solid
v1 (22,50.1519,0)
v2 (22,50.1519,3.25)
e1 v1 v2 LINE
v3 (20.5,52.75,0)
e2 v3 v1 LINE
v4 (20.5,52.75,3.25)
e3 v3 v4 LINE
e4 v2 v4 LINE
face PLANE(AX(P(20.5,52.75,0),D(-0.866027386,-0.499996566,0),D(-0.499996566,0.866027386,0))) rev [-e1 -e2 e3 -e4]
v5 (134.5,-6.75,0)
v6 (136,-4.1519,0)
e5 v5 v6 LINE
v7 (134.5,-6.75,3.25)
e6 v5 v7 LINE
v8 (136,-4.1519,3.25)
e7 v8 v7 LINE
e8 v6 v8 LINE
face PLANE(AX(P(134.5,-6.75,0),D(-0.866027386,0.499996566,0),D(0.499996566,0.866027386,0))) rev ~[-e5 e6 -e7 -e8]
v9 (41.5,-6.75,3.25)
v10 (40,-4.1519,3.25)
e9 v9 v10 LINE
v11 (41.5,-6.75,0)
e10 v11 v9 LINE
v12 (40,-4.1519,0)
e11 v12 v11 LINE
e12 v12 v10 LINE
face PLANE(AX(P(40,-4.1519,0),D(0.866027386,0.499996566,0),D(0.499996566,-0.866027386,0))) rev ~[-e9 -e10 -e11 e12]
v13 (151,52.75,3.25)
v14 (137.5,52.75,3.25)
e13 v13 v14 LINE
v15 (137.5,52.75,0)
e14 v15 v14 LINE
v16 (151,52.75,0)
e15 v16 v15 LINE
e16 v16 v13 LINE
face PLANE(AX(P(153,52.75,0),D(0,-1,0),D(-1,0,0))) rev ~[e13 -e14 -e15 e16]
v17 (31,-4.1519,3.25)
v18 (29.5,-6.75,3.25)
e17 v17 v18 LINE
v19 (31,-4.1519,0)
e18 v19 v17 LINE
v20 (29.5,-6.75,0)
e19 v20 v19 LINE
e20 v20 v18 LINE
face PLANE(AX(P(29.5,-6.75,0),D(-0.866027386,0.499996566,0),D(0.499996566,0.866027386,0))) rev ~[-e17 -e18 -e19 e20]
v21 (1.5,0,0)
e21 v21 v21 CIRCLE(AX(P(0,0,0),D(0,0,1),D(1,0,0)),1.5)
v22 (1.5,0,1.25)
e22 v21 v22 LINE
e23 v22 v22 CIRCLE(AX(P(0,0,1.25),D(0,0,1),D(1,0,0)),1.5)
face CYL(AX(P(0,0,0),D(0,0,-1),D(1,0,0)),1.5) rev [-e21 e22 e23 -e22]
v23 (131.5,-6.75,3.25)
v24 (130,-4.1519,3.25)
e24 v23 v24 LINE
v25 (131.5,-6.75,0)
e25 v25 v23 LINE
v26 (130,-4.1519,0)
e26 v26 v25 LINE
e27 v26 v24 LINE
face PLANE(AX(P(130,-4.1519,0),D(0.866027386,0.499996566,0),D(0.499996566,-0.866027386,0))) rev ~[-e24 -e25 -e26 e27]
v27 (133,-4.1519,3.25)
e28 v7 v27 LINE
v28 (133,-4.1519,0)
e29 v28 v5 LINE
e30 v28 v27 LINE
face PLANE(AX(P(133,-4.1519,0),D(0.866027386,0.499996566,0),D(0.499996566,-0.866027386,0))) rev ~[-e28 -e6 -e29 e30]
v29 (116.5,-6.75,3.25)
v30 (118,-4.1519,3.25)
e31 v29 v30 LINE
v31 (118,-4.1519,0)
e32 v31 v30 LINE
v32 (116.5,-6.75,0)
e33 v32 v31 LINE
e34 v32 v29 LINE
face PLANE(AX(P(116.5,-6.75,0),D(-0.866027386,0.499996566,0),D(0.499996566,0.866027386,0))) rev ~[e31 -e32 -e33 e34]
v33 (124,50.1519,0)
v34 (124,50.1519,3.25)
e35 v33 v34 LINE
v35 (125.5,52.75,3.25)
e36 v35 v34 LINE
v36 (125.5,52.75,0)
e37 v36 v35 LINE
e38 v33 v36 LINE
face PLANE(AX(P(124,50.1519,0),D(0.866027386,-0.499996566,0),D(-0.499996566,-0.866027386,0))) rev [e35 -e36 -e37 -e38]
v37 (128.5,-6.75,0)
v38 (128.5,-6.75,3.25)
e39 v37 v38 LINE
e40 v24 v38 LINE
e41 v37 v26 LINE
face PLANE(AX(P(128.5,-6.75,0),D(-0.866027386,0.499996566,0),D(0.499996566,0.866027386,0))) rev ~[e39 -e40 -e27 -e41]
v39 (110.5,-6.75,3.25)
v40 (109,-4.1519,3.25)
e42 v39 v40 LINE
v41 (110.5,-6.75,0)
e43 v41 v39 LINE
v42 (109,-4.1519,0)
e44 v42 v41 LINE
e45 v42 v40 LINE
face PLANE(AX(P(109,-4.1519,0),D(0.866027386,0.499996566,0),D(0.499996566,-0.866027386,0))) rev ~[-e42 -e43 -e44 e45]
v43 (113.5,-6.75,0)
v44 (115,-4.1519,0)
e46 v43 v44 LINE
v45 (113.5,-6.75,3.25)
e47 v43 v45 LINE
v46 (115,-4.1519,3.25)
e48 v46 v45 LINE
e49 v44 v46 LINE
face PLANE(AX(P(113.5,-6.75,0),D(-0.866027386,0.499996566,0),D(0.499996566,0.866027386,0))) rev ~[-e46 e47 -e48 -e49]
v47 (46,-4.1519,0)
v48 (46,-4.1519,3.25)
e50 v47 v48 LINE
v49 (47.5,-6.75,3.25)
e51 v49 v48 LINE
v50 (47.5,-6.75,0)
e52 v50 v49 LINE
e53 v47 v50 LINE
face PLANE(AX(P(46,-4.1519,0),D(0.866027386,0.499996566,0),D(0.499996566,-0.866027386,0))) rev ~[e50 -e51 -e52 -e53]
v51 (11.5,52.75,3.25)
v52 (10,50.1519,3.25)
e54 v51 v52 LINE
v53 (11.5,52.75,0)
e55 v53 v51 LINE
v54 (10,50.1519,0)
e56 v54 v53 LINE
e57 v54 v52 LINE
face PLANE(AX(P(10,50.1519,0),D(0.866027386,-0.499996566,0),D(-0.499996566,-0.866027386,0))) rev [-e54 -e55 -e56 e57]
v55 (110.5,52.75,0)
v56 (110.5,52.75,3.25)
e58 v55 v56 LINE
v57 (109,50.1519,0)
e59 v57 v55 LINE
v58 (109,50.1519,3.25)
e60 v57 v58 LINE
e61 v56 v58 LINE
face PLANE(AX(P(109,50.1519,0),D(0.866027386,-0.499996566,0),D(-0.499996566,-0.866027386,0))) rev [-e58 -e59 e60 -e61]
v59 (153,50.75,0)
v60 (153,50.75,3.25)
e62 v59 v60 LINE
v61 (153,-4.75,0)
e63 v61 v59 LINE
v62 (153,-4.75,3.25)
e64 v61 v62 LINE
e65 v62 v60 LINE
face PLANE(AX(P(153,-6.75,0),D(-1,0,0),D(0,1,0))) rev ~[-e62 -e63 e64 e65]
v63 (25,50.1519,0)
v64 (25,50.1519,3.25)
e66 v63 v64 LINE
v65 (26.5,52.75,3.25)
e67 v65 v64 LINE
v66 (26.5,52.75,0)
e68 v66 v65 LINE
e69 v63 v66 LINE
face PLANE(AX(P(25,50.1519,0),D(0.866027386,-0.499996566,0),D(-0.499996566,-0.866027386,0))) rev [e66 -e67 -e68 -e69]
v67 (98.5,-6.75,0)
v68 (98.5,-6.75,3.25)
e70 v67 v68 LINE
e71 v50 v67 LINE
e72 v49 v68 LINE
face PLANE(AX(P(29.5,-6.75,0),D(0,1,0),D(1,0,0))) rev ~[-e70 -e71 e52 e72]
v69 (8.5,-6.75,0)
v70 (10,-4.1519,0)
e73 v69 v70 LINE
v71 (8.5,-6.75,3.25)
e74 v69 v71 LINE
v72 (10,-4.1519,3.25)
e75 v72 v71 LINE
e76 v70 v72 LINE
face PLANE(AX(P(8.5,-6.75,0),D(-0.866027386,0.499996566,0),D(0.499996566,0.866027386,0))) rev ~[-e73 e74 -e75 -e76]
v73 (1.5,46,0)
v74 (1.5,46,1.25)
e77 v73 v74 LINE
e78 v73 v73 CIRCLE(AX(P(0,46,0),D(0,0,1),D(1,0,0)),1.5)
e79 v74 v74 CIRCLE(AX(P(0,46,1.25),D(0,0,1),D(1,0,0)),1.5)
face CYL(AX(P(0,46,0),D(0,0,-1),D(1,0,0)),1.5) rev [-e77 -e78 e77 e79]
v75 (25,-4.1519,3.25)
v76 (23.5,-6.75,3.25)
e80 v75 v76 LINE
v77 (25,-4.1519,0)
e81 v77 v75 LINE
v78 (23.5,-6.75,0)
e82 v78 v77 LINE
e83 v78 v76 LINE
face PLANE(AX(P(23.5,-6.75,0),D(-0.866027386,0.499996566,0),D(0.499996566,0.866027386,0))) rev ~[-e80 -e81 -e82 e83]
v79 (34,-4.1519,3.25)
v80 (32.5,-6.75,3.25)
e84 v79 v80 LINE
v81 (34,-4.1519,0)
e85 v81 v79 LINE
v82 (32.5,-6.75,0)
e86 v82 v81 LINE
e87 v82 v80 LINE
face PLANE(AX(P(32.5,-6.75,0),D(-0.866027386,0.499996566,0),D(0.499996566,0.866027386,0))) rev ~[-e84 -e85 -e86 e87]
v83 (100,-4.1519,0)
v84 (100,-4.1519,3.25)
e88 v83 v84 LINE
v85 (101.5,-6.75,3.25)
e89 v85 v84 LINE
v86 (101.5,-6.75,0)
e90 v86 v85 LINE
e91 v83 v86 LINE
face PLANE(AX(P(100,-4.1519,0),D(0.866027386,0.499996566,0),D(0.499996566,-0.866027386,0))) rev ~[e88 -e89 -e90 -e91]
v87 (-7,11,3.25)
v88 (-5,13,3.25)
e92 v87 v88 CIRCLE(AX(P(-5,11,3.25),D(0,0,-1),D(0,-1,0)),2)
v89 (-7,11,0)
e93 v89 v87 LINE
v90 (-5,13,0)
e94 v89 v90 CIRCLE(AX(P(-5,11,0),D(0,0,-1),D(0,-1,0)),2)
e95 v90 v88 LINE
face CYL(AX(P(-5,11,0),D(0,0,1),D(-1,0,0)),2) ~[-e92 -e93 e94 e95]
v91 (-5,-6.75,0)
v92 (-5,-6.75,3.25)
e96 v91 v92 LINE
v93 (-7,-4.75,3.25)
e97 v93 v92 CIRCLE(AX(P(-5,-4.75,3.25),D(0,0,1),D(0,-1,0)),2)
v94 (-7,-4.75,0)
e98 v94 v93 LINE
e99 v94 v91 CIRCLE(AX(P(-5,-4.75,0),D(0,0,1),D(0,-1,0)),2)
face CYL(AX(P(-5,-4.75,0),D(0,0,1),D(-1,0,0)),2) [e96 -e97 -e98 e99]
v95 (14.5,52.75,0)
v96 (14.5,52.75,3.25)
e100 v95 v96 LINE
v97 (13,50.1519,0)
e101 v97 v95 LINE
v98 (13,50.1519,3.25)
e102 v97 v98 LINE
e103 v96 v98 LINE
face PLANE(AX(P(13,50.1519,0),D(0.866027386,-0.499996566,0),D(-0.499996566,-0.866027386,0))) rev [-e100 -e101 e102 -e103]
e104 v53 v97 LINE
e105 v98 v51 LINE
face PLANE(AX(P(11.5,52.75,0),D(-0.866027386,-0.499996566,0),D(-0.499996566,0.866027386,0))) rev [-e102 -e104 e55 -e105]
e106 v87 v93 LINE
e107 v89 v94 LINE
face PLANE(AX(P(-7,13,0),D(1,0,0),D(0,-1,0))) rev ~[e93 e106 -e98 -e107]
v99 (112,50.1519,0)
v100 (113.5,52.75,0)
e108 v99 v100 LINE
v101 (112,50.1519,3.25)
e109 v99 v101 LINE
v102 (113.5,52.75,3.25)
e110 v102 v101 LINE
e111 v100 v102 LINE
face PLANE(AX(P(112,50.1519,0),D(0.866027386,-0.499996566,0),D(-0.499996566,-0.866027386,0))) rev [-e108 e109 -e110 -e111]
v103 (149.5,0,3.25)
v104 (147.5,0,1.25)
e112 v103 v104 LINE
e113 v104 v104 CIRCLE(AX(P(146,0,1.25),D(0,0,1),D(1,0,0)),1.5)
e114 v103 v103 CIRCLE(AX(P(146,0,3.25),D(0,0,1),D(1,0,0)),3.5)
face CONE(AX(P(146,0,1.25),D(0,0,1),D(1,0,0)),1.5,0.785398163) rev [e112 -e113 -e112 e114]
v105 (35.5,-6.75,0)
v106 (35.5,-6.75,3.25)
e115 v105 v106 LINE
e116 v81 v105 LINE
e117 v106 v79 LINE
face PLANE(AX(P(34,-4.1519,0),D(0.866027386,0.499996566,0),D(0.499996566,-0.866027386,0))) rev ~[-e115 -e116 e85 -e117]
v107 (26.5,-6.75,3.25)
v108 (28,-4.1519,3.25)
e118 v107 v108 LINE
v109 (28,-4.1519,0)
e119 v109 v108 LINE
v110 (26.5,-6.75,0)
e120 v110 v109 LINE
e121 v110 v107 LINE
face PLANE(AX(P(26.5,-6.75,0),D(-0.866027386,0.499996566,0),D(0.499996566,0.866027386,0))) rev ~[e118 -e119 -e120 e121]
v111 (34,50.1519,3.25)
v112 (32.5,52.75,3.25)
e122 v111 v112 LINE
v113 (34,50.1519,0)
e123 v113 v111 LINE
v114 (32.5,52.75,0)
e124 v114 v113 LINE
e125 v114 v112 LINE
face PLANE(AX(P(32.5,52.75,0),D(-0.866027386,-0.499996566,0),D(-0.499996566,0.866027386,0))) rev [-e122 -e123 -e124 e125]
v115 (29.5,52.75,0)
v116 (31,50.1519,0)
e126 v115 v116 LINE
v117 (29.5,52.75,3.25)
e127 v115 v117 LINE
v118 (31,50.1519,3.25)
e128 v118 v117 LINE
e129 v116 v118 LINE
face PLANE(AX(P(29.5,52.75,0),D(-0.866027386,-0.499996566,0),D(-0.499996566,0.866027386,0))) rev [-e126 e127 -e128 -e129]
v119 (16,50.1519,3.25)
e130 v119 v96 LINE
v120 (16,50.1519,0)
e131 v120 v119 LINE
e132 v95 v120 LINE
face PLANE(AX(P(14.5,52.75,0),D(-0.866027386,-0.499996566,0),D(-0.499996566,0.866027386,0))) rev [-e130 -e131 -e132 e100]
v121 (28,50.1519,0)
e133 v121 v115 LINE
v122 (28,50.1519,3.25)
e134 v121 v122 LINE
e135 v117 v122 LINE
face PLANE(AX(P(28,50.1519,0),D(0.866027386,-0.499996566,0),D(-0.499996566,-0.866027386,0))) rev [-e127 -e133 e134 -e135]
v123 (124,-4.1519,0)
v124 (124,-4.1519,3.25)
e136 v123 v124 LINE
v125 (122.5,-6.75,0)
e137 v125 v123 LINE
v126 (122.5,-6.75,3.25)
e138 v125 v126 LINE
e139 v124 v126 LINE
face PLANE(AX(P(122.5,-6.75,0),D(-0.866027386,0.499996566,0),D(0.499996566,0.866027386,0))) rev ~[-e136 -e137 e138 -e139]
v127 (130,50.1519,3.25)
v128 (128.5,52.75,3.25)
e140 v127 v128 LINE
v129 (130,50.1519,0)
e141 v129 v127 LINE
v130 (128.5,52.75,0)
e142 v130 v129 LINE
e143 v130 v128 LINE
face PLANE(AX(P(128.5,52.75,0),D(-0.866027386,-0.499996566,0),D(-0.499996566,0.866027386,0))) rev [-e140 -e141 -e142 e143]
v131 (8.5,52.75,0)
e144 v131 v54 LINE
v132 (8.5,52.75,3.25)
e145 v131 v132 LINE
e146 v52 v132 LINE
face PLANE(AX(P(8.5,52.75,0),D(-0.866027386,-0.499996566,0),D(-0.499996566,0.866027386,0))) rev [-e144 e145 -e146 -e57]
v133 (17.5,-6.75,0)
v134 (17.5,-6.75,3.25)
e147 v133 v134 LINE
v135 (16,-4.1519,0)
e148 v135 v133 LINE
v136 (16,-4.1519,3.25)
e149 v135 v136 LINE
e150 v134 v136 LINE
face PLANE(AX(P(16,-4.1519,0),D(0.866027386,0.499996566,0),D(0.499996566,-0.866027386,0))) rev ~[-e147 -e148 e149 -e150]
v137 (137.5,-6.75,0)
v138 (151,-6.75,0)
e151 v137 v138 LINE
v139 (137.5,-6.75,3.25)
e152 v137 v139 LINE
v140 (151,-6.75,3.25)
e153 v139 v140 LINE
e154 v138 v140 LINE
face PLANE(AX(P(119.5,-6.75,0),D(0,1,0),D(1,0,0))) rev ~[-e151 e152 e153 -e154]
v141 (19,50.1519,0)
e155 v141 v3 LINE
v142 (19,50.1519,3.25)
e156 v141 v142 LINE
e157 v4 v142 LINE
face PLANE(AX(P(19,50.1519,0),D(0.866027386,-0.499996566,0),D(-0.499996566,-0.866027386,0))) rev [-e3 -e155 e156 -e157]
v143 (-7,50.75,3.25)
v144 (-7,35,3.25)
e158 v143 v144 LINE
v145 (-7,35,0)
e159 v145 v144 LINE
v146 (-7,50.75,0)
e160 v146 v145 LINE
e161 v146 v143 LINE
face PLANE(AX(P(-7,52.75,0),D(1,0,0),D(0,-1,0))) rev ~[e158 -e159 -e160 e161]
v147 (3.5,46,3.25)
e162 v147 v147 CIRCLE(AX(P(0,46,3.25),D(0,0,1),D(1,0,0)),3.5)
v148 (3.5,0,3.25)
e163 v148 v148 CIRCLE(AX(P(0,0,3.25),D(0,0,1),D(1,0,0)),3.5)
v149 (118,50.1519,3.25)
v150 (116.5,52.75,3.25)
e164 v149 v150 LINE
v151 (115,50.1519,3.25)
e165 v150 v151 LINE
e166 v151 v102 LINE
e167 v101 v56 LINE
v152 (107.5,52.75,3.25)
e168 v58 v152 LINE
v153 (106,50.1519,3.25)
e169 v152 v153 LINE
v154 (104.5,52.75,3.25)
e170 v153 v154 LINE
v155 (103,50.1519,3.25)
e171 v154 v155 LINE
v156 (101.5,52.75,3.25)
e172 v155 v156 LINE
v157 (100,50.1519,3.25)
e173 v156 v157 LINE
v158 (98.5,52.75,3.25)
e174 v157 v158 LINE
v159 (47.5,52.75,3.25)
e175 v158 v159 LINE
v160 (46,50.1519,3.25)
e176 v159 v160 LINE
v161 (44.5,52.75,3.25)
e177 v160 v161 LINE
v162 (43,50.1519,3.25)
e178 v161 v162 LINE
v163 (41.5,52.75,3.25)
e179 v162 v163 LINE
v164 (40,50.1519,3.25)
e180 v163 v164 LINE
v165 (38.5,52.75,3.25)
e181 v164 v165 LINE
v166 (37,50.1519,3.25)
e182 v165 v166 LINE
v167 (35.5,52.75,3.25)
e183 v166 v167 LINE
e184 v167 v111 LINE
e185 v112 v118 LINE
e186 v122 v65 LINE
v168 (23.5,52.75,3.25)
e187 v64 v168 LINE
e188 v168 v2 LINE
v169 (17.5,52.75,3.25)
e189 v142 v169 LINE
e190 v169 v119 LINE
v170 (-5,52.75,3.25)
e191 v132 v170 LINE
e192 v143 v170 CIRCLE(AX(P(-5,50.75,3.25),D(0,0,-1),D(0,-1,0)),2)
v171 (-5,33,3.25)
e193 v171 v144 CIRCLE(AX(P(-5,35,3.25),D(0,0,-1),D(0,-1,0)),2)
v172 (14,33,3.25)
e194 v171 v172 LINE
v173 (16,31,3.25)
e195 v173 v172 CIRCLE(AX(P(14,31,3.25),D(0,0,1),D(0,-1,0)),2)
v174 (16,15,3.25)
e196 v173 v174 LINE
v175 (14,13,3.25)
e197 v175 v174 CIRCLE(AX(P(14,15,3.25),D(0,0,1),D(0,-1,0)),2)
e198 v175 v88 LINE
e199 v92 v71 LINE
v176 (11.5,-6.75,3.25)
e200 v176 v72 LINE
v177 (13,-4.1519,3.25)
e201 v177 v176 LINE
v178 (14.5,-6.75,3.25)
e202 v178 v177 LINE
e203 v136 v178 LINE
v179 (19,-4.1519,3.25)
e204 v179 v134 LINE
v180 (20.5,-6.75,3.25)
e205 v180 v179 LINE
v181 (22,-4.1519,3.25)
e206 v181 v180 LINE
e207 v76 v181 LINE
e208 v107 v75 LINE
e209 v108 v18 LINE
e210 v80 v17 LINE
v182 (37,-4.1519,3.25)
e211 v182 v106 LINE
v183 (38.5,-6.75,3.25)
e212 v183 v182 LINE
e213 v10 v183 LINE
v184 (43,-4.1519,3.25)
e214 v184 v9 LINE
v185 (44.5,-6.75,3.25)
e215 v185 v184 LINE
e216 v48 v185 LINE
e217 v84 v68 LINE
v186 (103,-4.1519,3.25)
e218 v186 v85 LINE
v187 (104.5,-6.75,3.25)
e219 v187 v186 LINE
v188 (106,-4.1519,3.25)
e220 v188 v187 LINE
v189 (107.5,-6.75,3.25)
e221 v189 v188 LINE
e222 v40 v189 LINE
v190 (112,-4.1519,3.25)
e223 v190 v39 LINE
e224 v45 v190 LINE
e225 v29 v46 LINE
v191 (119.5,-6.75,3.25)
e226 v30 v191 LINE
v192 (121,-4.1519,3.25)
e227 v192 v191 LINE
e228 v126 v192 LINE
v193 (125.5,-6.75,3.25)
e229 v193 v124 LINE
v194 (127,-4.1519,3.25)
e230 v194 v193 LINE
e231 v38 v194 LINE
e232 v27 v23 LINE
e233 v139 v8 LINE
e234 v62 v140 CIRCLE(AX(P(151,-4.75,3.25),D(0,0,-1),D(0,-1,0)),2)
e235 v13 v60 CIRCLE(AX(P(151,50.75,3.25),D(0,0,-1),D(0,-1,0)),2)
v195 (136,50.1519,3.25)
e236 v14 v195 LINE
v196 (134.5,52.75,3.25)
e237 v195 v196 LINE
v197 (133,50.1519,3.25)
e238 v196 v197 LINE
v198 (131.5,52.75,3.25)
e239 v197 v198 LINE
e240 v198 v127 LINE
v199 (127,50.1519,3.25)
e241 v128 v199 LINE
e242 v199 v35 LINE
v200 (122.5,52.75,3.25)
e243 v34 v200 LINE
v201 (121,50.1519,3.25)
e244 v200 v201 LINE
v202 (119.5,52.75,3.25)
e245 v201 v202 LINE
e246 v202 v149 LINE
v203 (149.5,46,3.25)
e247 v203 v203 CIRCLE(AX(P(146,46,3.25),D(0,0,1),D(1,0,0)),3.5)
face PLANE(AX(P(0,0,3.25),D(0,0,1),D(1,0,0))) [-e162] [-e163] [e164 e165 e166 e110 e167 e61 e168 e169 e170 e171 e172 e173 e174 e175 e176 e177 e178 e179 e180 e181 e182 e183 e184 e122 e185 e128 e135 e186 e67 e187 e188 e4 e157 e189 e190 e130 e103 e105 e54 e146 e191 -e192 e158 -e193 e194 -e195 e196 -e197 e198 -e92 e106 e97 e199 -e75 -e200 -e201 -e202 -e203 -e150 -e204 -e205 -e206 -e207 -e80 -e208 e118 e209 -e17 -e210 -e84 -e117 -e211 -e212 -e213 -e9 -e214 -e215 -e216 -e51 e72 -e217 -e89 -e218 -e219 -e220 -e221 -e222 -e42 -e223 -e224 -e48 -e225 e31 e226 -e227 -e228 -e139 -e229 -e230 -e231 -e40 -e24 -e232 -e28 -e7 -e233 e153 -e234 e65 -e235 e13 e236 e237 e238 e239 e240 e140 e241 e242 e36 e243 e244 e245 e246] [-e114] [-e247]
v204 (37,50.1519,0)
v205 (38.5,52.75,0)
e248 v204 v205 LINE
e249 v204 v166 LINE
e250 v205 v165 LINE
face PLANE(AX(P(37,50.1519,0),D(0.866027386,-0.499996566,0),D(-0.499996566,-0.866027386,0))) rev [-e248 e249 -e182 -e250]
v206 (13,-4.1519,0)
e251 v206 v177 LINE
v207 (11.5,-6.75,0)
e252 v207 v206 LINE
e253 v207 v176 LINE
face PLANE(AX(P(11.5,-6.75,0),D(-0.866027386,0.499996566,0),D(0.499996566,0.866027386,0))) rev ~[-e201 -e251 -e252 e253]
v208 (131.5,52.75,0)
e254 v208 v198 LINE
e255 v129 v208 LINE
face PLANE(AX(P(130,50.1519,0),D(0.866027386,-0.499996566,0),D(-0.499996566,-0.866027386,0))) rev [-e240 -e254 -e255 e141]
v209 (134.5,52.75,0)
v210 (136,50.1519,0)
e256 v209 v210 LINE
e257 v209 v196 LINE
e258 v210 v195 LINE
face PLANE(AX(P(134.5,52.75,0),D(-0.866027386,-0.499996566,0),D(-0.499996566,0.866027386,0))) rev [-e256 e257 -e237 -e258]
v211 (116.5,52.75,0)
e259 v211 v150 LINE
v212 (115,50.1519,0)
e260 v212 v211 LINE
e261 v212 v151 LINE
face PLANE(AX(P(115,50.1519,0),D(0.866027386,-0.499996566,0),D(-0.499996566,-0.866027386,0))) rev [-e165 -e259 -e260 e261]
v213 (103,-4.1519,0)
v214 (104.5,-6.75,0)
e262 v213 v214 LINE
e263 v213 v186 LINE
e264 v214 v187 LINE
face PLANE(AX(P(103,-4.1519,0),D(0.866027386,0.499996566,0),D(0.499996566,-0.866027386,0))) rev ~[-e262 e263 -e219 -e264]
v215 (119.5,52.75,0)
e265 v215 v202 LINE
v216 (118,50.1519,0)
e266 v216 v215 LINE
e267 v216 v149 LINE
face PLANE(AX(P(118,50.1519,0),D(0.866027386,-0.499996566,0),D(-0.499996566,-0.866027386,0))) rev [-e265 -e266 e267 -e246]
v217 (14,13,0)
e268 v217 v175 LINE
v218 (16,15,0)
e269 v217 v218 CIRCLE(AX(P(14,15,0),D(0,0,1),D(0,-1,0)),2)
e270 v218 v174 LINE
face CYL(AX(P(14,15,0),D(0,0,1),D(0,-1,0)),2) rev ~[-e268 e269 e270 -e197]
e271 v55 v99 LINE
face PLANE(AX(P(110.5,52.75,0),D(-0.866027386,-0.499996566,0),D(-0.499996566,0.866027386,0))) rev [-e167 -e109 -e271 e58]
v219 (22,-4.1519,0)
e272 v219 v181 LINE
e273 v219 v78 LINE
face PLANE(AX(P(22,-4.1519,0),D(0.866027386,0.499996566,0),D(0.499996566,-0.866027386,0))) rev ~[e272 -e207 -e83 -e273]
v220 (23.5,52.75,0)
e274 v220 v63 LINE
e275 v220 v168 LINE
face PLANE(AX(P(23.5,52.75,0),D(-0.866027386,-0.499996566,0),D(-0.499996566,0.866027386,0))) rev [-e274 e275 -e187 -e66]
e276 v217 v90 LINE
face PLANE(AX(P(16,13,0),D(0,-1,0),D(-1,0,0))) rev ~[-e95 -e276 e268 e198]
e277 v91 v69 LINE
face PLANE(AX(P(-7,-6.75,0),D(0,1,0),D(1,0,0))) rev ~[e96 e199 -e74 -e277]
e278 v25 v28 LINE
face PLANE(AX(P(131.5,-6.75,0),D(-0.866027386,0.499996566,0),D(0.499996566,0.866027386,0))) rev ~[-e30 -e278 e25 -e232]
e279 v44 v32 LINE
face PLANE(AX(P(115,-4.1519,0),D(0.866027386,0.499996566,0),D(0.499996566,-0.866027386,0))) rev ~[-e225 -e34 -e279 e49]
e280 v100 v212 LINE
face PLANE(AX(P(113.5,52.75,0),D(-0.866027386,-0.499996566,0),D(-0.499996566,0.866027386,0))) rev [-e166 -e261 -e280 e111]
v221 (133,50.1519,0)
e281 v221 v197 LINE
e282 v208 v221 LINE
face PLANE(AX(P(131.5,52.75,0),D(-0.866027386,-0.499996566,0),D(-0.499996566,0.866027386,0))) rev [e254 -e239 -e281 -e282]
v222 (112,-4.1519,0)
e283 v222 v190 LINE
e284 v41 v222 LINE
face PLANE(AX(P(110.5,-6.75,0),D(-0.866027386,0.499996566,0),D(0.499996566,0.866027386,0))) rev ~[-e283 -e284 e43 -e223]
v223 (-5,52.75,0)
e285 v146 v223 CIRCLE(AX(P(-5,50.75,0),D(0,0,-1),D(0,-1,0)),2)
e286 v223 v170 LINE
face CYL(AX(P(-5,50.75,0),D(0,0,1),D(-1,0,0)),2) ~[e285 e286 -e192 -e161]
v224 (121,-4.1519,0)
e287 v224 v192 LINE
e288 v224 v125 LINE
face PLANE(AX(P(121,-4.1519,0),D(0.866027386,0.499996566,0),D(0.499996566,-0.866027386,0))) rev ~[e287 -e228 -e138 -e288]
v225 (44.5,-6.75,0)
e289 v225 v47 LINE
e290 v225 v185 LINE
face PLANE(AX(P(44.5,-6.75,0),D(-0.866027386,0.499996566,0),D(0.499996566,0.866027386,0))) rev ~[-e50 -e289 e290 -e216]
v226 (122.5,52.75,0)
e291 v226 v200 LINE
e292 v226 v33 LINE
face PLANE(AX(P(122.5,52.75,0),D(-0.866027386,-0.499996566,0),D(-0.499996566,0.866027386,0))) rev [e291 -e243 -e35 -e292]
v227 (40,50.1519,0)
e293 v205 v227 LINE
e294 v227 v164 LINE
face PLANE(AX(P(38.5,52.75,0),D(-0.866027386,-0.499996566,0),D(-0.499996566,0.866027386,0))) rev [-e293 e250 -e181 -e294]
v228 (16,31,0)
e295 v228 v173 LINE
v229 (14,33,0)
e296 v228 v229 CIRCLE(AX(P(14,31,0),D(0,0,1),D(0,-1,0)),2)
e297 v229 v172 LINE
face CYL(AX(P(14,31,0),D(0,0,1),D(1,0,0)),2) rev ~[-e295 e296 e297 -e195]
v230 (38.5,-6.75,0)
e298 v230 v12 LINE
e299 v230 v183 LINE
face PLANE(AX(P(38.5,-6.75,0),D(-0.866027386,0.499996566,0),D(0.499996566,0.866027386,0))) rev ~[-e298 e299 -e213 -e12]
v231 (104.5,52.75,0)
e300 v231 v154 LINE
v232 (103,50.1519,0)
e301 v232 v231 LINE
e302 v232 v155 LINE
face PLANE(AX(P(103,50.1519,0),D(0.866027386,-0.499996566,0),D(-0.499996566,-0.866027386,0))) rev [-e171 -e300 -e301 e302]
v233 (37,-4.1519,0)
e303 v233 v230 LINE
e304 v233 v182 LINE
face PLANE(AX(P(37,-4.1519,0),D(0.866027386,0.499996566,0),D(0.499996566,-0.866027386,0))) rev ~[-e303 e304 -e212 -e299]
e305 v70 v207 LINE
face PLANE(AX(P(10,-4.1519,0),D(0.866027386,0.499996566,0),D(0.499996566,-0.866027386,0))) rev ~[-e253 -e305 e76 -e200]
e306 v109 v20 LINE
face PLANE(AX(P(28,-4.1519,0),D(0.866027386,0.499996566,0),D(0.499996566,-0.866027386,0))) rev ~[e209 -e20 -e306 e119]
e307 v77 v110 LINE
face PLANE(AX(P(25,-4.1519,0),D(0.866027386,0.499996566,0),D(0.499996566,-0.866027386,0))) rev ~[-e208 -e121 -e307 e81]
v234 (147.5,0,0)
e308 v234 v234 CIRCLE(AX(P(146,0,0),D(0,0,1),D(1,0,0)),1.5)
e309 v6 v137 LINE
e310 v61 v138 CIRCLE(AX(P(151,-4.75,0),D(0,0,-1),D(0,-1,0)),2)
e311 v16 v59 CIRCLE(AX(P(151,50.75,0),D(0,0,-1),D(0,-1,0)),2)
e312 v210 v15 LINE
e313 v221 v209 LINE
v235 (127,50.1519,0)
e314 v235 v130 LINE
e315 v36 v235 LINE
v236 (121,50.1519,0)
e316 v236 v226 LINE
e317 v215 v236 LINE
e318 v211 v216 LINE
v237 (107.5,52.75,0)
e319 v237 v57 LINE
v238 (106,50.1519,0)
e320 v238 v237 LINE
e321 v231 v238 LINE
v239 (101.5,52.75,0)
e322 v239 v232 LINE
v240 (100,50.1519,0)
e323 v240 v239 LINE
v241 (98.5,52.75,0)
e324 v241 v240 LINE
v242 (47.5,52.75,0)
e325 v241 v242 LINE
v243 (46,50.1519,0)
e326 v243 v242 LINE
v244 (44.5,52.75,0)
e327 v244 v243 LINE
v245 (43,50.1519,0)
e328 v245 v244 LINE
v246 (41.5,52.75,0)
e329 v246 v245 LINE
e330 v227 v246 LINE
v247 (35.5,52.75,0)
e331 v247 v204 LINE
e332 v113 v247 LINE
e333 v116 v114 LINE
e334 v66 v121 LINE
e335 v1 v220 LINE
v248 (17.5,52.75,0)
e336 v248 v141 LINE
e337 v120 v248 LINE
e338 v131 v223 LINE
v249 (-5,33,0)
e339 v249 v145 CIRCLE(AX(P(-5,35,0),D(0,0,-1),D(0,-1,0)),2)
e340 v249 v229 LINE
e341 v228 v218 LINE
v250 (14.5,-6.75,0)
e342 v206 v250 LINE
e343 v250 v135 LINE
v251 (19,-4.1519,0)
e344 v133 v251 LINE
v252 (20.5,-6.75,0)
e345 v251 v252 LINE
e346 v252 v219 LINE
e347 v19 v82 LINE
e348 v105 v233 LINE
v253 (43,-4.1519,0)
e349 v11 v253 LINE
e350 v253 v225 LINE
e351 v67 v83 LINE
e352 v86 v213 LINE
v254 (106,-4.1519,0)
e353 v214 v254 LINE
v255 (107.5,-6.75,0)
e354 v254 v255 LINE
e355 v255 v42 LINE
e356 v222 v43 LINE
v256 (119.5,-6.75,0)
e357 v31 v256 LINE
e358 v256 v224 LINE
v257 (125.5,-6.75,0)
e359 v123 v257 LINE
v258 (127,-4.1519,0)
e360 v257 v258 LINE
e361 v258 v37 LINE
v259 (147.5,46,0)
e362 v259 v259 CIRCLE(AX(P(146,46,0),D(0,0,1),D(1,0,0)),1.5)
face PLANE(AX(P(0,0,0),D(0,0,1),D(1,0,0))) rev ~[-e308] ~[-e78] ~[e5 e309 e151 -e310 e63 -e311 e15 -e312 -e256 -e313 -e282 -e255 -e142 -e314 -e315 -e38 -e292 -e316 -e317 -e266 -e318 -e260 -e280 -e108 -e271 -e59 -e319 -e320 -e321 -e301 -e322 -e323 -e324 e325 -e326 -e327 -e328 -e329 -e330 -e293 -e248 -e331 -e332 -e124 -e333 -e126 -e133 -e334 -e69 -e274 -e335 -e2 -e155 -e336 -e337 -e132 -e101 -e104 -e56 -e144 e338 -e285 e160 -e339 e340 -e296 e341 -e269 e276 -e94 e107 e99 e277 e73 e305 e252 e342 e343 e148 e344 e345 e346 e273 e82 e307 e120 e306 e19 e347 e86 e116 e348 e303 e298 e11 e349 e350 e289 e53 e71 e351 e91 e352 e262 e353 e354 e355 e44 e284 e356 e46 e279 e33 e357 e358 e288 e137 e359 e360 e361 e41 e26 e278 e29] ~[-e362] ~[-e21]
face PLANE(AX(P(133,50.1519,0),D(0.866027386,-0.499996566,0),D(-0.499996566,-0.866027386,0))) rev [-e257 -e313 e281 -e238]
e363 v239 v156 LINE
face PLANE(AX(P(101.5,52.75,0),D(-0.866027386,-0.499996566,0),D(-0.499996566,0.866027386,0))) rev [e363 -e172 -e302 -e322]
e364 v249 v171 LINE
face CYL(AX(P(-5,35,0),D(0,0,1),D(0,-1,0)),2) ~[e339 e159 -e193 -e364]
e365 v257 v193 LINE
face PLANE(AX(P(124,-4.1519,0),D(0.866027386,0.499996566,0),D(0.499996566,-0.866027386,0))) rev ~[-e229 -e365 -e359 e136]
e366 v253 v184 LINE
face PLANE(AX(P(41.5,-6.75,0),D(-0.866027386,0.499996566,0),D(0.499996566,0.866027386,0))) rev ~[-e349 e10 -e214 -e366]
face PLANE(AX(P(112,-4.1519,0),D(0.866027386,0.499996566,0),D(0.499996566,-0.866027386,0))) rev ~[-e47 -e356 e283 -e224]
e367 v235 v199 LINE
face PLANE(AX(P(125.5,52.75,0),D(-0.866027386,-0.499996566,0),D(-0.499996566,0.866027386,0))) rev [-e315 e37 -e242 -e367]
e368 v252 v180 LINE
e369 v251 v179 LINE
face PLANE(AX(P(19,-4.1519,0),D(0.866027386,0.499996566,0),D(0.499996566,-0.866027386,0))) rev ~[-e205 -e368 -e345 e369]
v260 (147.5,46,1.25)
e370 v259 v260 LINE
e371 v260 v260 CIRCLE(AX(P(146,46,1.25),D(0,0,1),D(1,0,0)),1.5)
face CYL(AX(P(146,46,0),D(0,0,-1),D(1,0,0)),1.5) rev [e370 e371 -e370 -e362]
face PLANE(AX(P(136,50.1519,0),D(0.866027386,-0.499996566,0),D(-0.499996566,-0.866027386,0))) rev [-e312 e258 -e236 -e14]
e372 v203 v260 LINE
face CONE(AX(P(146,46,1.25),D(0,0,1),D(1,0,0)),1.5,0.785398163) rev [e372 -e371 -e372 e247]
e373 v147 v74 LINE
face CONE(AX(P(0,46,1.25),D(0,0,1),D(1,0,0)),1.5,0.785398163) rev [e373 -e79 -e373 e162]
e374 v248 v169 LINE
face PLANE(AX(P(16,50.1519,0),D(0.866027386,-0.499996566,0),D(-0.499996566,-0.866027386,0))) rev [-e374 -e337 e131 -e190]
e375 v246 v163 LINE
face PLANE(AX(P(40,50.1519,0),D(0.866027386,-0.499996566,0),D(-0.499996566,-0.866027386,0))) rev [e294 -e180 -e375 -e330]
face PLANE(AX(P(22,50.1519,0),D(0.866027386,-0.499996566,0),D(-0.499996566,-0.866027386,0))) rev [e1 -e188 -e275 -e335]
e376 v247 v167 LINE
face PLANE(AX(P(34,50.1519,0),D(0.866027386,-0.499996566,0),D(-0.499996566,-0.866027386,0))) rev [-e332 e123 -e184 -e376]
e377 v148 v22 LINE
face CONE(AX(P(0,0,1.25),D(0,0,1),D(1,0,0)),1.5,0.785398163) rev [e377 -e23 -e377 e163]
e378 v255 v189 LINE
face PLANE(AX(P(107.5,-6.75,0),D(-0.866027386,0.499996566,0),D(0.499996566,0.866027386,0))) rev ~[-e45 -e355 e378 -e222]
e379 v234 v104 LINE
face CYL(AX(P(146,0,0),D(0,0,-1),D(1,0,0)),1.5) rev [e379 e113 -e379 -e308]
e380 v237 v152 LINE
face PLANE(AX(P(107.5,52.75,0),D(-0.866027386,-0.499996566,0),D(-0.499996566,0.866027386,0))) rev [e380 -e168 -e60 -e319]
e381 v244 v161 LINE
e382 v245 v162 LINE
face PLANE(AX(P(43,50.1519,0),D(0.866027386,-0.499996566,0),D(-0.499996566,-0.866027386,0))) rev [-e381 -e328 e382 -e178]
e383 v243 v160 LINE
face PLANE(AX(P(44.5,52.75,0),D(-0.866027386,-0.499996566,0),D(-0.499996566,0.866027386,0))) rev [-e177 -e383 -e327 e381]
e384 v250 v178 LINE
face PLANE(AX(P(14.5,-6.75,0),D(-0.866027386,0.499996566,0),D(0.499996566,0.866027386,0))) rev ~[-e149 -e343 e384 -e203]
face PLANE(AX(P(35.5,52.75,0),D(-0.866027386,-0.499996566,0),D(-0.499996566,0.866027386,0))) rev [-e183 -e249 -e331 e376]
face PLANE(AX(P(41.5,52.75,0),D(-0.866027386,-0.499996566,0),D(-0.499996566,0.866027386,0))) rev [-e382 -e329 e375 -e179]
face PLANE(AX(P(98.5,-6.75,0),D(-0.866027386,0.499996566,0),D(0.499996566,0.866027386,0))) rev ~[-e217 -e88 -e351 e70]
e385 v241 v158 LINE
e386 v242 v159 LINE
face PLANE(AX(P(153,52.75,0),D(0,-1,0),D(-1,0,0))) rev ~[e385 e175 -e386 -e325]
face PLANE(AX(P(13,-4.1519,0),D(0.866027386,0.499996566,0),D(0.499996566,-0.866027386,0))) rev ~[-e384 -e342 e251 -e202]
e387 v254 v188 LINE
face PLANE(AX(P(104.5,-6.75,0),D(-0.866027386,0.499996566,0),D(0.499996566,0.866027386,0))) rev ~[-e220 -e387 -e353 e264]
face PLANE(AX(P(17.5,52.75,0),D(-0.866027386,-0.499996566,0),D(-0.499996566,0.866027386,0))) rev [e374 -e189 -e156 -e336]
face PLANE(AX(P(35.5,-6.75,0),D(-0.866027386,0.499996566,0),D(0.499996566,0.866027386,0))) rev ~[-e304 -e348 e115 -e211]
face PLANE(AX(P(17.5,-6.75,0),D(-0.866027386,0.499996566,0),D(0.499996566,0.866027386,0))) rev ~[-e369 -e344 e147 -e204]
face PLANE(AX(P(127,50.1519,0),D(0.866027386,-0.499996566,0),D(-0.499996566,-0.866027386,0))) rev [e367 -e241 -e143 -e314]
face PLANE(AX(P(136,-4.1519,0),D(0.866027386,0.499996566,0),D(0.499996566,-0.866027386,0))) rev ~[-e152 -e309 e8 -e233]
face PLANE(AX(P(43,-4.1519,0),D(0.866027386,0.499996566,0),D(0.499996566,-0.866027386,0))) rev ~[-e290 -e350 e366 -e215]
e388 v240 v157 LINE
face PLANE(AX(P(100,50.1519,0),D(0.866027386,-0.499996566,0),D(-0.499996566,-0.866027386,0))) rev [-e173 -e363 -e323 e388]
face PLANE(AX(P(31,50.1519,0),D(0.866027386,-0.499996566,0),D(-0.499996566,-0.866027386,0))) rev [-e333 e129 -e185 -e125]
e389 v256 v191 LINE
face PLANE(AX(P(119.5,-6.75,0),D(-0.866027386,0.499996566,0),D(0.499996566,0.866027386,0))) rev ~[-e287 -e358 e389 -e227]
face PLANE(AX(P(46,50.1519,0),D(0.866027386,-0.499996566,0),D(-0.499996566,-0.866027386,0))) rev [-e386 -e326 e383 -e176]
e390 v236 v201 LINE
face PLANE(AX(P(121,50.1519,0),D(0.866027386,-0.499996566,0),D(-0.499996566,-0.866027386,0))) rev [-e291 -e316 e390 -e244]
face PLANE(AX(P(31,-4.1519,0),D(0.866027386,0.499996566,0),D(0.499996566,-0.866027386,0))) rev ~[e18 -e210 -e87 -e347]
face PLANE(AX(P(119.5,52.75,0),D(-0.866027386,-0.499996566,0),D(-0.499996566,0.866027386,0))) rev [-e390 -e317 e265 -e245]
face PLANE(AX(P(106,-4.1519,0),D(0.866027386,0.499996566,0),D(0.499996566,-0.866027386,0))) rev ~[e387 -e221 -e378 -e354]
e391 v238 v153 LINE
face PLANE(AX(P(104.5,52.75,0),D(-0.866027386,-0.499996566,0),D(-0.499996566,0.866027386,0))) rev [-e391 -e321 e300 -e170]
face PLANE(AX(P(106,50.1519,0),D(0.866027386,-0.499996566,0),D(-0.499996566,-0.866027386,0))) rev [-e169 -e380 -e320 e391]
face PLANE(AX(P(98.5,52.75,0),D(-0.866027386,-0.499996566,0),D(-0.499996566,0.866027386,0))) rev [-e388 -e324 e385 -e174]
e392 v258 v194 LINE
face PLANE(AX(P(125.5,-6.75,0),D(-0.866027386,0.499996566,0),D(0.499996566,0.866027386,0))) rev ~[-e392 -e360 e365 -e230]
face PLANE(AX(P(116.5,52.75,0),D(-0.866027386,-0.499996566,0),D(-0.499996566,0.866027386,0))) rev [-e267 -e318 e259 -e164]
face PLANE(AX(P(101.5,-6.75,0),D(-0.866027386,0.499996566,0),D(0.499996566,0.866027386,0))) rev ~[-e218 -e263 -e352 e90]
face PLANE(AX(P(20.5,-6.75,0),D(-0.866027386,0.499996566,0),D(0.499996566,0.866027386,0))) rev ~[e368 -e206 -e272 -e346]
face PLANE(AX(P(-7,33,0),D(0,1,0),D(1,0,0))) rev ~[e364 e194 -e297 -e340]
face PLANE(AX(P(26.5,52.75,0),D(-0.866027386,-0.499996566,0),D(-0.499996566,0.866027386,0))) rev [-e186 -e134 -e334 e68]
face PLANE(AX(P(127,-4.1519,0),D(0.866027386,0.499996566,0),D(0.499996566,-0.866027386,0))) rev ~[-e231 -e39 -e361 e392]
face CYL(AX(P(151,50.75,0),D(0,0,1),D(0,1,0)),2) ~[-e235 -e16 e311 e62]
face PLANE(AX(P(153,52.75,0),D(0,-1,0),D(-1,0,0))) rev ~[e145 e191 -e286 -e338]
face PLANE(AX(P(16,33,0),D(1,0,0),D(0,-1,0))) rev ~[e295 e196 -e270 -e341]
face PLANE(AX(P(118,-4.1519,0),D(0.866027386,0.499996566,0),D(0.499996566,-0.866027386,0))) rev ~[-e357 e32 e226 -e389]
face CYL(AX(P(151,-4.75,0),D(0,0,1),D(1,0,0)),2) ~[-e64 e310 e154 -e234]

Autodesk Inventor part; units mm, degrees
ref_plane "YZ Plane" through (0, 0, 0) normal (1, 0, 0) x (0, 1, 0)
ref_plane "XZ Plane" through (0, 0, 0) normal (0, 1, 0) x (-1, 0, 0)
ref_plane "XY Plane" through (0, 0, 0) normal (0, 0, 1) x (1, 0, 0)
sketch "Sketch1" plane through (0, 0, 0) normal (0, 0, 1) x (1, 0, 0)
  line L0 (0, 0) -> (146, 0) construction
  line L1 (146, 0) -> (146, 46) construction
  line L2 (146, 46) -> (0, 46) construction
  line L3 (0, 46) -> (0, 0) construction
  circle A0 centre (0, 46) radius 1.5
  circle A1 centre (0, 0) radius 1.5
  circle A2 centre (146, 0) radius 1.5
  circle A3 centre (146, 46) radius 1.5
  line L4 (0, 0) -> (146, 46) construction
  line L5 (-7, -6.75) -> (153, -6.75)
  line L6 (153, -6.75) -> (153, 52.75)
  line L7 (153, 52.75) -> (-7, 52.75)
  line L8 (-7, 52.75) -> (-7, -6.75)
  line L9 (-7, -6.75) -> (153, 52.75) construction
  line L10 (153, -6.75) -> (-7, 52.75) construction
  line L11 (73, 23) -> (93, 23) construction
  line L12 (73, 23) -> (73, 43) construction
  line L13 (116.5, -6.75) -> (118, -4.1519)
  line L14 (116.5, -6.75) -> (119.5, -6.75) construction
  line L15 (118, -4.1519) -> (119.5, -6.75)
  line L16 (26.5, -6.75) -> (28, -4.1519)
  line L17 (26.5, -6.75) -> (29.5, -6.75) construction
  line L18 (28, -4.1519) -> (29.5, -6.75)
  line L19 (26.5, -6.75) -> (29.5, -6.75)
  line L20 (119.5, -6.75) -> (116.5, -6.75)
  line L21 (-7, 33) -> (16, 33)
  line L22 (16, 33) -> (16, 13)
  line L23 (16, 13) -> (-7, 13)
  line L24 (-7, 13) -> (-7, 33)
  dimension "d0" = 146
  dimension "d1" = 46
  dimension "d2" = 3
  dimension "d3" = 3
  dimension "d4" = 3
  dimension "d5" = 3
  dimension "d6" = 160
  dimension "d7" = 59.5
  dimension "d8" = 20
  dimension "d9" = 20
  dimension "d10" = 3
  dimension "d11" = 60
  dimension "d12" = 3
  dimension "d13" = 60
  dimension "d14" = 3
  dimension "d15" = 60
  dimension "d16" = 3
  dimension "d17" = 60
  dimension "d18" = 90
  dimension "d19" = 35
  dimension "d30" = 23
  dimension "d31" = 20
  dimension "d32" = 19.75
extrude "Extrusion1" add sketch "Sketch1" along normal blind 3.25 contours L8 L23 L22 L21 L7 L6 L5 L15 L13 L18 L16
extrude "Extrusion2" cut sketch "Sketch1" along normal blind 10 contours L16 L18 L5 | L13 L15 L5
pattern_linear "Rectangular Pattern1" count 7 spacing 3 along (1, 0, 0) of "Extrusion2"
pattern_linear "Rectangular Pattern2" count 7 spacing 3 along (-1, 0, 0) of "Extrusion2"
ref_plane "Work Plane1" through (-7, 23, 0) normal (0, 1, 0) x (1, 0, 0)
mirror "Mirror1" about plane through (-7, 23, 0) normal (0, 1, 0) of "Extrusion2", "Rectangular Pattern1", "Rectangular Pattern2"
fillet "Fillet1" radius 2 8 edges at (-7, 52.75, 1.625) (-7, 13, 1.625) (-7, -6.75, 1.625) (-7, 33, 1.625) (153, 52.75, 1.625) (153, -6.75, 1.625) (16, 13, 1.625) (16, 33, 1.625)
chamfer "Chamfer1" distance 2 angle 45 4 edges at (-1.5, 46, 3.25) (-1.5, 0, 3.25) (144.5, 46, 3.25) (144.5, 0, 3.25)
equation "\"d19\" = -0.5 * d18 + 0.5 * d6"
equation "\"d32\" = -0.5 * d31 + 0.5 * d7"
properties part number "BatteryCarrier SlideRail ToothMountPlate"
